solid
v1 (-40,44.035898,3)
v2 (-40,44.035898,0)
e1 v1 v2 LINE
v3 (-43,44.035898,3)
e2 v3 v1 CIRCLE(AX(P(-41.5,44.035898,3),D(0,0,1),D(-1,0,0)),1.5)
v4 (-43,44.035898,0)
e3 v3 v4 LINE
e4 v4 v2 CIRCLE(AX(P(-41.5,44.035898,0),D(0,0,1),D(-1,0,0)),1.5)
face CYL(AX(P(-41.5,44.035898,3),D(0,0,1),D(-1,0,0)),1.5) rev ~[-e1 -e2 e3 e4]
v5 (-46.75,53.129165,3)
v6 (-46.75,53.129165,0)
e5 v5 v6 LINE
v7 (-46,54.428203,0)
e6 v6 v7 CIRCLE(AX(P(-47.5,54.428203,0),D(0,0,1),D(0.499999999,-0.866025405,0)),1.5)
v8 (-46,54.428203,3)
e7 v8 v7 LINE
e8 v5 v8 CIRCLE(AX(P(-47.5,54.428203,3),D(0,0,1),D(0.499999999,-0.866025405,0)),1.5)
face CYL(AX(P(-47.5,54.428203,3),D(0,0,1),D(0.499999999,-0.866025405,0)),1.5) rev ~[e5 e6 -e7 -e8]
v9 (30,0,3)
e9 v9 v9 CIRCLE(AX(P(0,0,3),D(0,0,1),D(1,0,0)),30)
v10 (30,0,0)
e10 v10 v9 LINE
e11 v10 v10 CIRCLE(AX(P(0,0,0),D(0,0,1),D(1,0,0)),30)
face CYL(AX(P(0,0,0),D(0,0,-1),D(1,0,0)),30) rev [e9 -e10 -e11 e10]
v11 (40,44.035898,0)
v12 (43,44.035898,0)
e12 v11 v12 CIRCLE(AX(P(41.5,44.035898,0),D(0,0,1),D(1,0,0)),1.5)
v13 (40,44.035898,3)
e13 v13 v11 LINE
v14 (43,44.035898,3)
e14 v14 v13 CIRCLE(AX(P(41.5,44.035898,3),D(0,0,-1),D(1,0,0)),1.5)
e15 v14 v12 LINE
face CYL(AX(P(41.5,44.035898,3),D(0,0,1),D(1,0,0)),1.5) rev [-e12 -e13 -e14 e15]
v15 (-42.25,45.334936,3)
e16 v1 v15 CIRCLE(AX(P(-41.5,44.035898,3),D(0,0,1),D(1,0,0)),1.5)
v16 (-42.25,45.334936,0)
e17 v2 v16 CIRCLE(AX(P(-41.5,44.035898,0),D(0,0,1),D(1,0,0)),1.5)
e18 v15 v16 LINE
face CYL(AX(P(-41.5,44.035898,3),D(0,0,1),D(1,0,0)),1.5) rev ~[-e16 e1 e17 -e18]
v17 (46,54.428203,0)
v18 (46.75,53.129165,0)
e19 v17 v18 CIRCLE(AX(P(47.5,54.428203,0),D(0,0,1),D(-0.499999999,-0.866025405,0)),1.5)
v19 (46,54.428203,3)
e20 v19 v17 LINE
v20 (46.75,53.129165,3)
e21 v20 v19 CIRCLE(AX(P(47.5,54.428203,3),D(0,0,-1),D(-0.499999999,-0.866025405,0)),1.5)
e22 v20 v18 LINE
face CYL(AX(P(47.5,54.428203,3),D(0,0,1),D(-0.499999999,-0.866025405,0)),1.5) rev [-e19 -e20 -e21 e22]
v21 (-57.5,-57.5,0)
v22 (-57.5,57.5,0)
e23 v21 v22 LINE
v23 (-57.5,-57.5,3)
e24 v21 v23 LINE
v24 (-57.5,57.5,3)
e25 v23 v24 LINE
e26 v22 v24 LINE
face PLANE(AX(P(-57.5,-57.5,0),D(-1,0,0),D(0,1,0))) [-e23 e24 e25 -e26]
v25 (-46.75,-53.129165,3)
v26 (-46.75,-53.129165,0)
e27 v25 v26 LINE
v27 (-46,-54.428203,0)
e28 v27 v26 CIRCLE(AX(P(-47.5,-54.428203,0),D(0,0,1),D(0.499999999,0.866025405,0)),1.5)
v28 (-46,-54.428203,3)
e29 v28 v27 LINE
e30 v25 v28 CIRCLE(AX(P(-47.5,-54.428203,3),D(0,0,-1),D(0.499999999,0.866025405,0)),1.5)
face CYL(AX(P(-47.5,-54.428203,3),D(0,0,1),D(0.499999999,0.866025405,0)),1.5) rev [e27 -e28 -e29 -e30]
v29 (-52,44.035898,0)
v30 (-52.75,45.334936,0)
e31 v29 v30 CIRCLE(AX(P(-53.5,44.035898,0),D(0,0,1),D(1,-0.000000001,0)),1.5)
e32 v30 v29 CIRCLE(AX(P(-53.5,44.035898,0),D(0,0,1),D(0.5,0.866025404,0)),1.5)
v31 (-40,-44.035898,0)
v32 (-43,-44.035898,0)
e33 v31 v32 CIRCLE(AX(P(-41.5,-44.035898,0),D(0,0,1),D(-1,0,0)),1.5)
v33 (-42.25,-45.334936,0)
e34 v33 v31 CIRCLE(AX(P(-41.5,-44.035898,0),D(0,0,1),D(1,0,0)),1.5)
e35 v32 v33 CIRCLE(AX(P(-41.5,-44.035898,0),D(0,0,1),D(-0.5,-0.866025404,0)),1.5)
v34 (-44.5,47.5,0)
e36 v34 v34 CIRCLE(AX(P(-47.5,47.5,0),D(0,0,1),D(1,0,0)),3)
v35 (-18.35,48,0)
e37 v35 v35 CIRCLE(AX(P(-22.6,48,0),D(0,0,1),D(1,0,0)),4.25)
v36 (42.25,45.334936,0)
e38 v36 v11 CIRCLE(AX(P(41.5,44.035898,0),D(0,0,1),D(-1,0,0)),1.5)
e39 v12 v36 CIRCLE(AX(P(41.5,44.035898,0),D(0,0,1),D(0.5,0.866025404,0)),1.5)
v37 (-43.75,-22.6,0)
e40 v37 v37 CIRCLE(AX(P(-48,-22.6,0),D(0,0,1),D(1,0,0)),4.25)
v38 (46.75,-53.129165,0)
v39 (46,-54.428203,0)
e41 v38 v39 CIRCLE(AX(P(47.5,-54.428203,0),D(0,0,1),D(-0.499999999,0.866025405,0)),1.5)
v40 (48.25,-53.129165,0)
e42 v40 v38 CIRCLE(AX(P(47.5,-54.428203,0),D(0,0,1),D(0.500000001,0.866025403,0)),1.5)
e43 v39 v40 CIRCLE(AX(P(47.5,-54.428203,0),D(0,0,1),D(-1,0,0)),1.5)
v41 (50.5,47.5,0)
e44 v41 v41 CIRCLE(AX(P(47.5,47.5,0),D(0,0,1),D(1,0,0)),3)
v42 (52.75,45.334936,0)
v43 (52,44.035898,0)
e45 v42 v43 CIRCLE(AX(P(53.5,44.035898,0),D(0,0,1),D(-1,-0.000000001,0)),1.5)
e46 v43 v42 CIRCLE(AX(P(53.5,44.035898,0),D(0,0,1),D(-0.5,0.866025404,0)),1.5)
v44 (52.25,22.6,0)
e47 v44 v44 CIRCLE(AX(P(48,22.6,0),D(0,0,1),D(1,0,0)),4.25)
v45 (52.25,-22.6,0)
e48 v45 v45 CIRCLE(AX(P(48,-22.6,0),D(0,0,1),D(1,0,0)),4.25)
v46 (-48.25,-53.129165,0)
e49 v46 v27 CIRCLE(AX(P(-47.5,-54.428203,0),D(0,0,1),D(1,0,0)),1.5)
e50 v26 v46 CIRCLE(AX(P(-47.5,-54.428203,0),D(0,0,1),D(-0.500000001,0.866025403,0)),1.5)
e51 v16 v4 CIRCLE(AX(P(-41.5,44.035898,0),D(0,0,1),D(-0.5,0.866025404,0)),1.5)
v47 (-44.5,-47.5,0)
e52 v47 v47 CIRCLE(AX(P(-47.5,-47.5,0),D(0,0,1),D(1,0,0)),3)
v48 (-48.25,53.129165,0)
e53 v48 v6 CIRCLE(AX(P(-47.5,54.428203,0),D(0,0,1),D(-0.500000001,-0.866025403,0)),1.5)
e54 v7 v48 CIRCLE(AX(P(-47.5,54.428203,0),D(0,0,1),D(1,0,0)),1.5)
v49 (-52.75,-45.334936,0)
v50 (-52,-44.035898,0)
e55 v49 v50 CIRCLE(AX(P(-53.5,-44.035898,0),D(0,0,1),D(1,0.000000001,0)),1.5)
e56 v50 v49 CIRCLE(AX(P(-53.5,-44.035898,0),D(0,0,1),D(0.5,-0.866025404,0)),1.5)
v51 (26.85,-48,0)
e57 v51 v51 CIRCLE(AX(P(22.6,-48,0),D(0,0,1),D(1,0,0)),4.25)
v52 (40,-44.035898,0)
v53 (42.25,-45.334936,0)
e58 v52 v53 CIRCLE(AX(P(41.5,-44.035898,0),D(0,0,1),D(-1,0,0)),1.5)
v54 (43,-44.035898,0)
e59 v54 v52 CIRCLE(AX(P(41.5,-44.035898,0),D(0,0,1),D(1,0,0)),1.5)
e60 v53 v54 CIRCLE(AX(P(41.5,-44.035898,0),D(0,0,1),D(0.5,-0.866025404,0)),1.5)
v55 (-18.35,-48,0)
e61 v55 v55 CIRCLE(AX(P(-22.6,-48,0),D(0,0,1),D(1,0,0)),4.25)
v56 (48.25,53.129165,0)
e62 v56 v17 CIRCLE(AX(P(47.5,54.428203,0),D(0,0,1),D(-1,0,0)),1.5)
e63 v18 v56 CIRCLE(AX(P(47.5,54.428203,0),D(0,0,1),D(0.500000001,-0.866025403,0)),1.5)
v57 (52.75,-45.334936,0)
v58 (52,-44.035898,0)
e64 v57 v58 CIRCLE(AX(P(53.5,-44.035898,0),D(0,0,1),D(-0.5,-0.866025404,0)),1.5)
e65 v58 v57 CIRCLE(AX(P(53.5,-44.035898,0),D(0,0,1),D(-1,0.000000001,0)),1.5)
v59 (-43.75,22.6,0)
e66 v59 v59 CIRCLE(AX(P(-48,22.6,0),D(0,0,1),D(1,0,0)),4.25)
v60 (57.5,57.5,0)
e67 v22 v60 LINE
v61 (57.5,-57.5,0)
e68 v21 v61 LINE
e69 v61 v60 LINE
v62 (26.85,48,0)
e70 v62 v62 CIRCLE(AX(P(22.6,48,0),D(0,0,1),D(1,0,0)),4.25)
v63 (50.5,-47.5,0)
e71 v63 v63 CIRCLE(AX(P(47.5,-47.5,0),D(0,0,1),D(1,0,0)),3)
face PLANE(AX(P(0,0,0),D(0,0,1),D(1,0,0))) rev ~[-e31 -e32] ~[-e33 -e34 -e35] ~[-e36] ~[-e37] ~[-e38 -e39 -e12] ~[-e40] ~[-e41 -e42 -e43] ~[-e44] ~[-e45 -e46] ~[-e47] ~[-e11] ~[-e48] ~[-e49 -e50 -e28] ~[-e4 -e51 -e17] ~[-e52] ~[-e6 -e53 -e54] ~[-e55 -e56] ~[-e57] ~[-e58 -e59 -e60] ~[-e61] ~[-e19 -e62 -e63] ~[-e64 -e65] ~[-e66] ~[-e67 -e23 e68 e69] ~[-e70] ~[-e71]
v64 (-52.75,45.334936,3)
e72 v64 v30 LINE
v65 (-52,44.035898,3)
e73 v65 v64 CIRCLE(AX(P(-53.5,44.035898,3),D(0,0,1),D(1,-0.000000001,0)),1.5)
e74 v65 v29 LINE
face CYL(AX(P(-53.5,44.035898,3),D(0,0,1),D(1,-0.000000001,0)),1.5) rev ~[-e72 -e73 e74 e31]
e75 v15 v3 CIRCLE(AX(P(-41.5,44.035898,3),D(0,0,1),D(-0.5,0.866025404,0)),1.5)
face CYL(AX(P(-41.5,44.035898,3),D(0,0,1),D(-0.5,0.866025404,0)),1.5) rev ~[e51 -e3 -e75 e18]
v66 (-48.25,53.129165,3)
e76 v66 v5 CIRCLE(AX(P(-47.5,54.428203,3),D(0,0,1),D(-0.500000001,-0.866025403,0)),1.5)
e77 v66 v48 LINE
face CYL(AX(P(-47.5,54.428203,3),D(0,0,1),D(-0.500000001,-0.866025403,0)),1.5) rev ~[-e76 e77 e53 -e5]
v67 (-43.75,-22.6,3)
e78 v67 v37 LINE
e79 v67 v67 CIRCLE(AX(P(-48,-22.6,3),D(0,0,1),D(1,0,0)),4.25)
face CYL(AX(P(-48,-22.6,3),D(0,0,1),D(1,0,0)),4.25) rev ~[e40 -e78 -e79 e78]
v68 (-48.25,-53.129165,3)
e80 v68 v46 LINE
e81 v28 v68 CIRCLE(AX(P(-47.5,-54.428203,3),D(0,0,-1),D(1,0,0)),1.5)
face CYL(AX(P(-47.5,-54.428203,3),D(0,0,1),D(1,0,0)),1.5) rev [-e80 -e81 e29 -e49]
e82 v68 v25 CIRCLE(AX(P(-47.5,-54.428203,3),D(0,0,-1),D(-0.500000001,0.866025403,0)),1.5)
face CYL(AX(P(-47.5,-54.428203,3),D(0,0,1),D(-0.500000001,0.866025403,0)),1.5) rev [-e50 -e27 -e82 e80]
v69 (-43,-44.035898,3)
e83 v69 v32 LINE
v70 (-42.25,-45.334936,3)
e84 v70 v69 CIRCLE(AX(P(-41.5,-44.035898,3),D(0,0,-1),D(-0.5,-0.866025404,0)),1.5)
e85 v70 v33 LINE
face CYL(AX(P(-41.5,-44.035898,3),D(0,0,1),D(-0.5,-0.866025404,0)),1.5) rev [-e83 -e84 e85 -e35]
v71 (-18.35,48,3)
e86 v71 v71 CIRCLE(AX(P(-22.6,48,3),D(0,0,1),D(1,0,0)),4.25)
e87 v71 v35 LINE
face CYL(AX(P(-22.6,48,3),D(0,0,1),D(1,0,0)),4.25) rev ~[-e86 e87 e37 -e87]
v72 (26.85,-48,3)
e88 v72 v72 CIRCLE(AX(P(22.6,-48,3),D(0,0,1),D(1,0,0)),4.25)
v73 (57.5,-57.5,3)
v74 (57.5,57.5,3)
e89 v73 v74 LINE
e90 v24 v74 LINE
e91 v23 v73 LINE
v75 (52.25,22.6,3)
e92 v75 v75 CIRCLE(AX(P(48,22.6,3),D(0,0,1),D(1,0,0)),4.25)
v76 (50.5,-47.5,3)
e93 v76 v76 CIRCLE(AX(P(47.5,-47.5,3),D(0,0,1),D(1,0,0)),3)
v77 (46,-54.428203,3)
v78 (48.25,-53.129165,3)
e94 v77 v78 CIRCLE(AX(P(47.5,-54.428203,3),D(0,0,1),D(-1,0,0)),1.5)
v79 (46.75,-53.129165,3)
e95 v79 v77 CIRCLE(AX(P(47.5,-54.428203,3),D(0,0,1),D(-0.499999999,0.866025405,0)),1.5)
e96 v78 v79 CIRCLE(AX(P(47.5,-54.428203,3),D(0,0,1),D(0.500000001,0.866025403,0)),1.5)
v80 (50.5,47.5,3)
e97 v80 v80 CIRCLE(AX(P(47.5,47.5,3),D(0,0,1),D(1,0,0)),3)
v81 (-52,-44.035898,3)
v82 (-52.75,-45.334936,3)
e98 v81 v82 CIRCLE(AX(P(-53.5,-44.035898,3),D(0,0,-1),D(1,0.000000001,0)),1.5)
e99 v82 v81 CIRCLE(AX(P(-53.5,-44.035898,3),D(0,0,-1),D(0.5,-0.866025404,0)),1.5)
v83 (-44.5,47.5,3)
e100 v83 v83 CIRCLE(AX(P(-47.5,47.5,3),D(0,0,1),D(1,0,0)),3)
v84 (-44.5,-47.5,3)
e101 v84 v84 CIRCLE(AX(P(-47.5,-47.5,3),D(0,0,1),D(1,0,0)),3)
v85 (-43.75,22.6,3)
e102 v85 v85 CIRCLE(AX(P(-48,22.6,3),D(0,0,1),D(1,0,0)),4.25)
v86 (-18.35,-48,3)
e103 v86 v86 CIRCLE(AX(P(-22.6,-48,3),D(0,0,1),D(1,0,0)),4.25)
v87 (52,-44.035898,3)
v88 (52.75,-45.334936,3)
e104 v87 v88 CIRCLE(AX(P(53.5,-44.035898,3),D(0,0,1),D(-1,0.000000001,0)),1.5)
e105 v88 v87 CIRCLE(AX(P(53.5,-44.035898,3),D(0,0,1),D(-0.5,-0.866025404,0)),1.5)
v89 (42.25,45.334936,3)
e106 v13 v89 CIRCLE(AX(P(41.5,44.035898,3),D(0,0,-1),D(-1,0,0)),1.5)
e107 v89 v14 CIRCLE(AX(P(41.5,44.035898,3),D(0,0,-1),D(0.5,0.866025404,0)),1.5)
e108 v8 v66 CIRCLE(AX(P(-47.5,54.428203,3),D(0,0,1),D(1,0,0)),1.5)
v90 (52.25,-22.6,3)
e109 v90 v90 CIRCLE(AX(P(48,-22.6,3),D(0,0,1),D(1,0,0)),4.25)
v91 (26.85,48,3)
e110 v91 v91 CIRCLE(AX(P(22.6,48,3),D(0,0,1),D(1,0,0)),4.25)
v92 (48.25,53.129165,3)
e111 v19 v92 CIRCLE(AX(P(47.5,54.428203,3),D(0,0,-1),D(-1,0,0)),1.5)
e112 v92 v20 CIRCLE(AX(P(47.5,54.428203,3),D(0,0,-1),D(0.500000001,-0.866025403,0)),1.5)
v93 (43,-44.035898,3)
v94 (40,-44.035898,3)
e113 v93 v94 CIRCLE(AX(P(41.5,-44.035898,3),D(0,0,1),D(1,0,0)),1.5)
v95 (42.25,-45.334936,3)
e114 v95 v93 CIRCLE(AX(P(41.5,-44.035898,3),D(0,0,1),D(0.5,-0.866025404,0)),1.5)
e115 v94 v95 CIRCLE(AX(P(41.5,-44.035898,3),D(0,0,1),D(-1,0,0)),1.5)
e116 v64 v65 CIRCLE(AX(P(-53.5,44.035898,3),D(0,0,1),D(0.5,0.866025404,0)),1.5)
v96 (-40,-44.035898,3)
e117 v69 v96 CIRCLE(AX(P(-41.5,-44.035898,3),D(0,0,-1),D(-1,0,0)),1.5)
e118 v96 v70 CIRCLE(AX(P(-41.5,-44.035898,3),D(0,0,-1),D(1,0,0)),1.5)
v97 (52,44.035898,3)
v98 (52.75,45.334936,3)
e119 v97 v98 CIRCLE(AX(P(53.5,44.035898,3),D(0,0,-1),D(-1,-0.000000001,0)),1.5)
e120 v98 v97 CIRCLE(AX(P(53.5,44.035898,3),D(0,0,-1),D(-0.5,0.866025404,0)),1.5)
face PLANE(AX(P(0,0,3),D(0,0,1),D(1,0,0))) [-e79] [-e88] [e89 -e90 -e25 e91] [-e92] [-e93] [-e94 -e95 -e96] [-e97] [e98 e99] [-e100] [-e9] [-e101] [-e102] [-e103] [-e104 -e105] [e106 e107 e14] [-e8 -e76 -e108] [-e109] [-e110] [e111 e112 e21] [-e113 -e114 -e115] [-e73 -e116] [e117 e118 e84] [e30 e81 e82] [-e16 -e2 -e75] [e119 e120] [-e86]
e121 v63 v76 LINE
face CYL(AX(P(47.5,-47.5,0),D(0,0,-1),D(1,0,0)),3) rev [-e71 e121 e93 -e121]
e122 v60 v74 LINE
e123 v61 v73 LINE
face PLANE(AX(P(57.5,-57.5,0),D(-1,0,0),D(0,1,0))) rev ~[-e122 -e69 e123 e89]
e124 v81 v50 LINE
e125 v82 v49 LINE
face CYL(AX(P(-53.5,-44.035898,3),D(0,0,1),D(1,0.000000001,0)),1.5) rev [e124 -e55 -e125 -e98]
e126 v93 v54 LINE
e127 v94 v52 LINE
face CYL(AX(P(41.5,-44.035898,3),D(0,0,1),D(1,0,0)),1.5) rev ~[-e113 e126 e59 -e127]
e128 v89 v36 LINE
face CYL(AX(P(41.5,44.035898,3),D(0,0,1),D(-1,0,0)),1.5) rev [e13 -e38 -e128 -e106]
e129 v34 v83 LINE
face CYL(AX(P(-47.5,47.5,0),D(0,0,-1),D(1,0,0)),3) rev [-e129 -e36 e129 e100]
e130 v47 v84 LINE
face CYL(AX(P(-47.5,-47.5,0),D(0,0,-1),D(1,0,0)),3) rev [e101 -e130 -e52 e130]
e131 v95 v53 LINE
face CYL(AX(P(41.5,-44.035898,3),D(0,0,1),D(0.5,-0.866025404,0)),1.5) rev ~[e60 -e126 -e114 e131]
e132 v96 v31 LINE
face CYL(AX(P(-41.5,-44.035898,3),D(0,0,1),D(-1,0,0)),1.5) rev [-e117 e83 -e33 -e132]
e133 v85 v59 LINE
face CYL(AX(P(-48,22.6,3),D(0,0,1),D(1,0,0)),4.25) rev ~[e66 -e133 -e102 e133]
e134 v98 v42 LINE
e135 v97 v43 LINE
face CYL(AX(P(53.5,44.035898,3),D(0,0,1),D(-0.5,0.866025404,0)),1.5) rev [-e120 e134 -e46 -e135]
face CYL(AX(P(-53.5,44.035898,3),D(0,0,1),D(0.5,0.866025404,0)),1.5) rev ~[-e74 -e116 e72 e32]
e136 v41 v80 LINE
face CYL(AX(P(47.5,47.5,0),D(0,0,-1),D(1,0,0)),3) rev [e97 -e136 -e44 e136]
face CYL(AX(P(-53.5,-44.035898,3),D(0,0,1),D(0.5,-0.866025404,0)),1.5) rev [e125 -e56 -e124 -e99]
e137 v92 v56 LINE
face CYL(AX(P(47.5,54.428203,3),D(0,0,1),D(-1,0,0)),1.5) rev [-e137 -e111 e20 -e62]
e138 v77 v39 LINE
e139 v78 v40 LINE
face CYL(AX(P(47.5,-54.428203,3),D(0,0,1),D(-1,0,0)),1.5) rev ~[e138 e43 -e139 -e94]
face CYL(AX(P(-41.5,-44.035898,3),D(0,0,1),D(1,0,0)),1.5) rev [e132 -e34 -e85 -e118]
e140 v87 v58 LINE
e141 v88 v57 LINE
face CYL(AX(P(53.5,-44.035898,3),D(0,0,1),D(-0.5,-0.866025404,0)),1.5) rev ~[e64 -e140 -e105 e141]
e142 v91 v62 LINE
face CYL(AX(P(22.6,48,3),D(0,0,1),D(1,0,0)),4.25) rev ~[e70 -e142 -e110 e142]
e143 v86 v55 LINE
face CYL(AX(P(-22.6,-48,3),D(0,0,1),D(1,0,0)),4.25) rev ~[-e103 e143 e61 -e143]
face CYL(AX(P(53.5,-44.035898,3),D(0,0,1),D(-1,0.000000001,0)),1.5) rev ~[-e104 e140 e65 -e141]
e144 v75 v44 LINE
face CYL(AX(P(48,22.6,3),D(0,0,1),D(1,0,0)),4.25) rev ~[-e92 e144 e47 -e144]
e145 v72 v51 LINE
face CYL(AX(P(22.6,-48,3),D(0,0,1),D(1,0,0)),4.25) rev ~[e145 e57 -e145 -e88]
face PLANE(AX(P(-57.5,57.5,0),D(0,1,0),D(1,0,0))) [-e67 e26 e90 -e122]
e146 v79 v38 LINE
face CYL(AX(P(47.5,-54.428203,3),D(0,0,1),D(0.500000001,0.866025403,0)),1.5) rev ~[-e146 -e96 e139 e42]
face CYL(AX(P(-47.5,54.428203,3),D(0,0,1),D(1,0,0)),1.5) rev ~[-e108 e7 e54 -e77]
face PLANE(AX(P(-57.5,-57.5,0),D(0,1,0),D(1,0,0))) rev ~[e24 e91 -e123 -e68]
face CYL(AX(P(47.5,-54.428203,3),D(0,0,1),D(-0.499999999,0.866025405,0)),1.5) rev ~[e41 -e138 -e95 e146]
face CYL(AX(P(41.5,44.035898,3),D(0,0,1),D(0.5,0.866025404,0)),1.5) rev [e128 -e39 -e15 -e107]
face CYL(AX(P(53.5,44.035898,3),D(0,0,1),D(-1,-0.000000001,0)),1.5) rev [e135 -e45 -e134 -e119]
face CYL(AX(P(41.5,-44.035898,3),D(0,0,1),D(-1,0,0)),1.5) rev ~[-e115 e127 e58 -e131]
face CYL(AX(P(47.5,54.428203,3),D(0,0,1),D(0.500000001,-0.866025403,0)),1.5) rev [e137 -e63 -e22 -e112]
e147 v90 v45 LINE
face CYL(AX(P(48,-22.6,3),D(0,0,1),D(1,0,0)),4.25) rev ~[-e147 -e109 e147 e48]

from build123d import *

# Parameters (mm, degrees)
SKETCH_1_W            = 115
SKETCH_1_H            = 115
SKETCH_1_R            = 30
SKETCH_1_R_2          = 3
EXTRUDE_1_DEPTH       = 3
CUT_EXTRUDE_2_DEPTH   = 82.372599811
MIRROR_4_COPY_1_DEPTH = 82.372599811
SKETCH_4_R            = 4.25
CUT_EXTRUDE_3_DEPTH   = 3


with BuildPart() as part:
    # 草图1 → 凸台-拉伸1 (new body)
    with BuildSketch(Plane.XY):
        Rectangle(SKETCH_1_W, SKETCH_1_H)
        Circle(SKETCH_1_R, mode=Mode.SUBTRACT)
        with Locations((-47.5, 47.5)):
            Circle(SKETCH_1_R_2, mode=Mode.SUBTRACT)
        with Locations((47.5, 47.5)):
            Circle(SKETCH_1_R_2, mode=Mode.SUBTRACT)
        with Locations((47.5, -47.5)):
            Circle(SKETCH_1_R_2, mode=Mode.SUBTRACT)
        with Locations((-47.5, -47.5)):
            Circle(SKETCH_1_R_2, mode=Mode.SUBTRACT)
    extrude(amount=EXTRUDE_1_DEPTH)

    # 草图3 → 切除-拉伸2 (cut, through all)
    with BuildSketch(Plane.XY.offset(3)):
        with BuildLine():
            ThreePointArc((-52, 44.035898385), (-52.200961894, 44.785898385), (-52.75, 45.334936491))
            Line((-52.75, 45.334936491), (-53.5, 44.035898385))
            Line((-53.5, 44.035898385), (-52, 44.035898385))
        make_face()
        with BuildLine():
            Line((-53.5, 44.035898385), (-52.75, 45.334936491))
            ThreePointArc((-52.75, 45.334936491), (-54.799038106, 43.285898385), (-52, 44.035898385))
            Line((-52, 44.035898385), (-53.5, 44.035898385))
        make_face()
        with BuildLine():
            ThreePointArc((-40, 44.035898385), (-40.75, 45.334936491), (-42.25, 45.334936491))
            Line((-42.25, 45.334936491), (-41.5, 44.035898385))
            Line((-41.5, 44.035898385), (-43, 44.035898385))
            ThreePointArc((-43, 44.035898385), (-41.5, 42.535898385), (-40, 44.035898385))
        make_face()
        with BuildLine():
            Line((-41.5, 44.035898385), (-42.25, 45.334936491))
            ThreePointArc((-42.25, 45.334936491), (-42.799038106, 44.785898385), (-43, 44.035898385))
            Line((-43, 44.035898385), (-41.5, 44.035898385))
        make_face()
        with BuildLine():
            Line((-46.75, 53.129165125), (-47.5, 54.42820323))
            Line((-47.5, 54.42820323), (-48.25, 53.129165125))
            ThreePointArc((-48.25, 53.129165125), (-47.5, 52.92820323), (-46.75, 53.129165125))
        make_face()
        with BuildLine():
            Line((-48.25, 53.129165125), (-47.5, 54.42820323))
            Line((-47.5, 54.42820323), (-46.75, 53.129165125))
            ThreePointArc((-46.75, 53.129165125), (-46.200961894, 53.67820323), (-46, 54.42820323))
            ThreePointArc((-46, 54.42820323), (-48.25, 55.727241336), (-48.25, 53.129165125))
        make_face()
    cut_extrude_2 = extrude(amount=-CUT_EXTRUDE_2_DEPTH, mode=Mode.SUBTRACT)

    # 镜向3: 切除-拉伸2 across plane
    add(cut_extrude_2.mirror(Plane(origin=(0, 0, 0), x_dir=(0, 0, 1), z_dir=(1, 0, 0))), mode=Mode.SUBTRACT)

    # 镜向4: 切除-拉伸2 across plane
    add(cut_extrude_2.mirror(Plane.ZX), mode=Mode.SUBTRACT)

    # 镜向4 copy 1 sketch → 镜向4 copy 1 (cut, through all)
    with BuildSketch(Plane(origin=(0, 0, 3), x_dir=(-1, 0, 0), z_dir=(0, 0, 1))):
        with BuildLine():
            ThreePointArc((-52, 44.035898385), (-52.200961894, 44.785898385), (-52.75, 45.334936491))
            Line((-52.75, 45.334936491), (-53.5, 44.035898385))
            Line((-53.5, 44.035898385), (-52, 44.035898385))
        make_face()
        with BuildLine():
            Line((-53.5, 44.035898385), (-52.75, 45.334936491))
            ThreePointArc((-52.75, 45.334936491), (-54.799038106, 43.285898385), (-52, 44.035898385))
            Line((-52, 44.035898385), (-53.5, 44.035898385))
        make_face()
        with BuildLine():
            ThreePointArc((-40, 44.035898385), (-40.75, 45.334936491), (-42.25, 45.334936491))
            Line((-42.25, 45.334936491), (-41.5, 44.035898385))
            Line((-41.5, 44.035898385), (-43, 44.035898385))
            ThreePointArc((-43, 44.035898385), (-41.5, 42.535898385), (-40, 44.035898385))
        make_face()
        with BuildLine():
            Line((-41.5, 44.035898385), (-42.25, 45.334936491))
            ThreePointArc((-42.25, 45.334936491), (-42.799038106, 44.785898385), (-43, 44.035898385))
            Line((-43, 44.035898385), (-41.5, 44.035898385))
        make_face()
        with BuildLine():
            Line((-46.75, 53.129165125), (-47.5, 54.42820323))
            Line((-47.5, 54.42820323), (-48.25, 53.129165125))
            ThreePointArc((-48.25, 53.129165125), (-47.5, 52.92820323), (-46.75, 53.129165125))
        make_face()
        with BuildLine():
            Line((-48.25, 53.129165125), (-47.5, 54.42820323))
            Line((-47.5, 54.42820323), (-46.75, 53.129165125))
            ThreePointArc((-46.75, 53.129165125), (-46.200961894, 53.67820323), (-46, 54.42820323))
            ThreePointArc((-46, 54.42820323), (-48.25, 55.727241336), (-48.25, 53.129165125))
        make_face()
    extrude(amount=-MIRROR_4_COPY_1_DEPTH, mode=Mode.SUBTRACT)

    # 草图4 → 切除-拉伸3 (cut)
    with BuildSketch(Plane.XY.offset(3)):
        with Locations((-22.6, 48)):
            Circle(SKETCH_4_R)
        with Locations((-48, 22.6)):
            Circle(SKETCH_4_R)
        with Locations((22.6, 48)):
            Circle(SKETCH_4_R)
        with Locations((48, 22.6)):
            Circle(SKETCH_4_R)
        with Locations((48, -22.6)):
            Circle(SKETCH_4_R)
        with Locations((22.6, -48)):
            Circle(SKETCH_4_R)
        with Locations((-48, -22.6)):
            Circle(SKETCH_4_R)
        with Locations((-22.6, -48)):
            Circle(SKETCH_4_R)
    extrude(amount=-CUT_EXTRUDE_3_DEPTH, mode=Mode.SUBTRACT)


solid = part.part
